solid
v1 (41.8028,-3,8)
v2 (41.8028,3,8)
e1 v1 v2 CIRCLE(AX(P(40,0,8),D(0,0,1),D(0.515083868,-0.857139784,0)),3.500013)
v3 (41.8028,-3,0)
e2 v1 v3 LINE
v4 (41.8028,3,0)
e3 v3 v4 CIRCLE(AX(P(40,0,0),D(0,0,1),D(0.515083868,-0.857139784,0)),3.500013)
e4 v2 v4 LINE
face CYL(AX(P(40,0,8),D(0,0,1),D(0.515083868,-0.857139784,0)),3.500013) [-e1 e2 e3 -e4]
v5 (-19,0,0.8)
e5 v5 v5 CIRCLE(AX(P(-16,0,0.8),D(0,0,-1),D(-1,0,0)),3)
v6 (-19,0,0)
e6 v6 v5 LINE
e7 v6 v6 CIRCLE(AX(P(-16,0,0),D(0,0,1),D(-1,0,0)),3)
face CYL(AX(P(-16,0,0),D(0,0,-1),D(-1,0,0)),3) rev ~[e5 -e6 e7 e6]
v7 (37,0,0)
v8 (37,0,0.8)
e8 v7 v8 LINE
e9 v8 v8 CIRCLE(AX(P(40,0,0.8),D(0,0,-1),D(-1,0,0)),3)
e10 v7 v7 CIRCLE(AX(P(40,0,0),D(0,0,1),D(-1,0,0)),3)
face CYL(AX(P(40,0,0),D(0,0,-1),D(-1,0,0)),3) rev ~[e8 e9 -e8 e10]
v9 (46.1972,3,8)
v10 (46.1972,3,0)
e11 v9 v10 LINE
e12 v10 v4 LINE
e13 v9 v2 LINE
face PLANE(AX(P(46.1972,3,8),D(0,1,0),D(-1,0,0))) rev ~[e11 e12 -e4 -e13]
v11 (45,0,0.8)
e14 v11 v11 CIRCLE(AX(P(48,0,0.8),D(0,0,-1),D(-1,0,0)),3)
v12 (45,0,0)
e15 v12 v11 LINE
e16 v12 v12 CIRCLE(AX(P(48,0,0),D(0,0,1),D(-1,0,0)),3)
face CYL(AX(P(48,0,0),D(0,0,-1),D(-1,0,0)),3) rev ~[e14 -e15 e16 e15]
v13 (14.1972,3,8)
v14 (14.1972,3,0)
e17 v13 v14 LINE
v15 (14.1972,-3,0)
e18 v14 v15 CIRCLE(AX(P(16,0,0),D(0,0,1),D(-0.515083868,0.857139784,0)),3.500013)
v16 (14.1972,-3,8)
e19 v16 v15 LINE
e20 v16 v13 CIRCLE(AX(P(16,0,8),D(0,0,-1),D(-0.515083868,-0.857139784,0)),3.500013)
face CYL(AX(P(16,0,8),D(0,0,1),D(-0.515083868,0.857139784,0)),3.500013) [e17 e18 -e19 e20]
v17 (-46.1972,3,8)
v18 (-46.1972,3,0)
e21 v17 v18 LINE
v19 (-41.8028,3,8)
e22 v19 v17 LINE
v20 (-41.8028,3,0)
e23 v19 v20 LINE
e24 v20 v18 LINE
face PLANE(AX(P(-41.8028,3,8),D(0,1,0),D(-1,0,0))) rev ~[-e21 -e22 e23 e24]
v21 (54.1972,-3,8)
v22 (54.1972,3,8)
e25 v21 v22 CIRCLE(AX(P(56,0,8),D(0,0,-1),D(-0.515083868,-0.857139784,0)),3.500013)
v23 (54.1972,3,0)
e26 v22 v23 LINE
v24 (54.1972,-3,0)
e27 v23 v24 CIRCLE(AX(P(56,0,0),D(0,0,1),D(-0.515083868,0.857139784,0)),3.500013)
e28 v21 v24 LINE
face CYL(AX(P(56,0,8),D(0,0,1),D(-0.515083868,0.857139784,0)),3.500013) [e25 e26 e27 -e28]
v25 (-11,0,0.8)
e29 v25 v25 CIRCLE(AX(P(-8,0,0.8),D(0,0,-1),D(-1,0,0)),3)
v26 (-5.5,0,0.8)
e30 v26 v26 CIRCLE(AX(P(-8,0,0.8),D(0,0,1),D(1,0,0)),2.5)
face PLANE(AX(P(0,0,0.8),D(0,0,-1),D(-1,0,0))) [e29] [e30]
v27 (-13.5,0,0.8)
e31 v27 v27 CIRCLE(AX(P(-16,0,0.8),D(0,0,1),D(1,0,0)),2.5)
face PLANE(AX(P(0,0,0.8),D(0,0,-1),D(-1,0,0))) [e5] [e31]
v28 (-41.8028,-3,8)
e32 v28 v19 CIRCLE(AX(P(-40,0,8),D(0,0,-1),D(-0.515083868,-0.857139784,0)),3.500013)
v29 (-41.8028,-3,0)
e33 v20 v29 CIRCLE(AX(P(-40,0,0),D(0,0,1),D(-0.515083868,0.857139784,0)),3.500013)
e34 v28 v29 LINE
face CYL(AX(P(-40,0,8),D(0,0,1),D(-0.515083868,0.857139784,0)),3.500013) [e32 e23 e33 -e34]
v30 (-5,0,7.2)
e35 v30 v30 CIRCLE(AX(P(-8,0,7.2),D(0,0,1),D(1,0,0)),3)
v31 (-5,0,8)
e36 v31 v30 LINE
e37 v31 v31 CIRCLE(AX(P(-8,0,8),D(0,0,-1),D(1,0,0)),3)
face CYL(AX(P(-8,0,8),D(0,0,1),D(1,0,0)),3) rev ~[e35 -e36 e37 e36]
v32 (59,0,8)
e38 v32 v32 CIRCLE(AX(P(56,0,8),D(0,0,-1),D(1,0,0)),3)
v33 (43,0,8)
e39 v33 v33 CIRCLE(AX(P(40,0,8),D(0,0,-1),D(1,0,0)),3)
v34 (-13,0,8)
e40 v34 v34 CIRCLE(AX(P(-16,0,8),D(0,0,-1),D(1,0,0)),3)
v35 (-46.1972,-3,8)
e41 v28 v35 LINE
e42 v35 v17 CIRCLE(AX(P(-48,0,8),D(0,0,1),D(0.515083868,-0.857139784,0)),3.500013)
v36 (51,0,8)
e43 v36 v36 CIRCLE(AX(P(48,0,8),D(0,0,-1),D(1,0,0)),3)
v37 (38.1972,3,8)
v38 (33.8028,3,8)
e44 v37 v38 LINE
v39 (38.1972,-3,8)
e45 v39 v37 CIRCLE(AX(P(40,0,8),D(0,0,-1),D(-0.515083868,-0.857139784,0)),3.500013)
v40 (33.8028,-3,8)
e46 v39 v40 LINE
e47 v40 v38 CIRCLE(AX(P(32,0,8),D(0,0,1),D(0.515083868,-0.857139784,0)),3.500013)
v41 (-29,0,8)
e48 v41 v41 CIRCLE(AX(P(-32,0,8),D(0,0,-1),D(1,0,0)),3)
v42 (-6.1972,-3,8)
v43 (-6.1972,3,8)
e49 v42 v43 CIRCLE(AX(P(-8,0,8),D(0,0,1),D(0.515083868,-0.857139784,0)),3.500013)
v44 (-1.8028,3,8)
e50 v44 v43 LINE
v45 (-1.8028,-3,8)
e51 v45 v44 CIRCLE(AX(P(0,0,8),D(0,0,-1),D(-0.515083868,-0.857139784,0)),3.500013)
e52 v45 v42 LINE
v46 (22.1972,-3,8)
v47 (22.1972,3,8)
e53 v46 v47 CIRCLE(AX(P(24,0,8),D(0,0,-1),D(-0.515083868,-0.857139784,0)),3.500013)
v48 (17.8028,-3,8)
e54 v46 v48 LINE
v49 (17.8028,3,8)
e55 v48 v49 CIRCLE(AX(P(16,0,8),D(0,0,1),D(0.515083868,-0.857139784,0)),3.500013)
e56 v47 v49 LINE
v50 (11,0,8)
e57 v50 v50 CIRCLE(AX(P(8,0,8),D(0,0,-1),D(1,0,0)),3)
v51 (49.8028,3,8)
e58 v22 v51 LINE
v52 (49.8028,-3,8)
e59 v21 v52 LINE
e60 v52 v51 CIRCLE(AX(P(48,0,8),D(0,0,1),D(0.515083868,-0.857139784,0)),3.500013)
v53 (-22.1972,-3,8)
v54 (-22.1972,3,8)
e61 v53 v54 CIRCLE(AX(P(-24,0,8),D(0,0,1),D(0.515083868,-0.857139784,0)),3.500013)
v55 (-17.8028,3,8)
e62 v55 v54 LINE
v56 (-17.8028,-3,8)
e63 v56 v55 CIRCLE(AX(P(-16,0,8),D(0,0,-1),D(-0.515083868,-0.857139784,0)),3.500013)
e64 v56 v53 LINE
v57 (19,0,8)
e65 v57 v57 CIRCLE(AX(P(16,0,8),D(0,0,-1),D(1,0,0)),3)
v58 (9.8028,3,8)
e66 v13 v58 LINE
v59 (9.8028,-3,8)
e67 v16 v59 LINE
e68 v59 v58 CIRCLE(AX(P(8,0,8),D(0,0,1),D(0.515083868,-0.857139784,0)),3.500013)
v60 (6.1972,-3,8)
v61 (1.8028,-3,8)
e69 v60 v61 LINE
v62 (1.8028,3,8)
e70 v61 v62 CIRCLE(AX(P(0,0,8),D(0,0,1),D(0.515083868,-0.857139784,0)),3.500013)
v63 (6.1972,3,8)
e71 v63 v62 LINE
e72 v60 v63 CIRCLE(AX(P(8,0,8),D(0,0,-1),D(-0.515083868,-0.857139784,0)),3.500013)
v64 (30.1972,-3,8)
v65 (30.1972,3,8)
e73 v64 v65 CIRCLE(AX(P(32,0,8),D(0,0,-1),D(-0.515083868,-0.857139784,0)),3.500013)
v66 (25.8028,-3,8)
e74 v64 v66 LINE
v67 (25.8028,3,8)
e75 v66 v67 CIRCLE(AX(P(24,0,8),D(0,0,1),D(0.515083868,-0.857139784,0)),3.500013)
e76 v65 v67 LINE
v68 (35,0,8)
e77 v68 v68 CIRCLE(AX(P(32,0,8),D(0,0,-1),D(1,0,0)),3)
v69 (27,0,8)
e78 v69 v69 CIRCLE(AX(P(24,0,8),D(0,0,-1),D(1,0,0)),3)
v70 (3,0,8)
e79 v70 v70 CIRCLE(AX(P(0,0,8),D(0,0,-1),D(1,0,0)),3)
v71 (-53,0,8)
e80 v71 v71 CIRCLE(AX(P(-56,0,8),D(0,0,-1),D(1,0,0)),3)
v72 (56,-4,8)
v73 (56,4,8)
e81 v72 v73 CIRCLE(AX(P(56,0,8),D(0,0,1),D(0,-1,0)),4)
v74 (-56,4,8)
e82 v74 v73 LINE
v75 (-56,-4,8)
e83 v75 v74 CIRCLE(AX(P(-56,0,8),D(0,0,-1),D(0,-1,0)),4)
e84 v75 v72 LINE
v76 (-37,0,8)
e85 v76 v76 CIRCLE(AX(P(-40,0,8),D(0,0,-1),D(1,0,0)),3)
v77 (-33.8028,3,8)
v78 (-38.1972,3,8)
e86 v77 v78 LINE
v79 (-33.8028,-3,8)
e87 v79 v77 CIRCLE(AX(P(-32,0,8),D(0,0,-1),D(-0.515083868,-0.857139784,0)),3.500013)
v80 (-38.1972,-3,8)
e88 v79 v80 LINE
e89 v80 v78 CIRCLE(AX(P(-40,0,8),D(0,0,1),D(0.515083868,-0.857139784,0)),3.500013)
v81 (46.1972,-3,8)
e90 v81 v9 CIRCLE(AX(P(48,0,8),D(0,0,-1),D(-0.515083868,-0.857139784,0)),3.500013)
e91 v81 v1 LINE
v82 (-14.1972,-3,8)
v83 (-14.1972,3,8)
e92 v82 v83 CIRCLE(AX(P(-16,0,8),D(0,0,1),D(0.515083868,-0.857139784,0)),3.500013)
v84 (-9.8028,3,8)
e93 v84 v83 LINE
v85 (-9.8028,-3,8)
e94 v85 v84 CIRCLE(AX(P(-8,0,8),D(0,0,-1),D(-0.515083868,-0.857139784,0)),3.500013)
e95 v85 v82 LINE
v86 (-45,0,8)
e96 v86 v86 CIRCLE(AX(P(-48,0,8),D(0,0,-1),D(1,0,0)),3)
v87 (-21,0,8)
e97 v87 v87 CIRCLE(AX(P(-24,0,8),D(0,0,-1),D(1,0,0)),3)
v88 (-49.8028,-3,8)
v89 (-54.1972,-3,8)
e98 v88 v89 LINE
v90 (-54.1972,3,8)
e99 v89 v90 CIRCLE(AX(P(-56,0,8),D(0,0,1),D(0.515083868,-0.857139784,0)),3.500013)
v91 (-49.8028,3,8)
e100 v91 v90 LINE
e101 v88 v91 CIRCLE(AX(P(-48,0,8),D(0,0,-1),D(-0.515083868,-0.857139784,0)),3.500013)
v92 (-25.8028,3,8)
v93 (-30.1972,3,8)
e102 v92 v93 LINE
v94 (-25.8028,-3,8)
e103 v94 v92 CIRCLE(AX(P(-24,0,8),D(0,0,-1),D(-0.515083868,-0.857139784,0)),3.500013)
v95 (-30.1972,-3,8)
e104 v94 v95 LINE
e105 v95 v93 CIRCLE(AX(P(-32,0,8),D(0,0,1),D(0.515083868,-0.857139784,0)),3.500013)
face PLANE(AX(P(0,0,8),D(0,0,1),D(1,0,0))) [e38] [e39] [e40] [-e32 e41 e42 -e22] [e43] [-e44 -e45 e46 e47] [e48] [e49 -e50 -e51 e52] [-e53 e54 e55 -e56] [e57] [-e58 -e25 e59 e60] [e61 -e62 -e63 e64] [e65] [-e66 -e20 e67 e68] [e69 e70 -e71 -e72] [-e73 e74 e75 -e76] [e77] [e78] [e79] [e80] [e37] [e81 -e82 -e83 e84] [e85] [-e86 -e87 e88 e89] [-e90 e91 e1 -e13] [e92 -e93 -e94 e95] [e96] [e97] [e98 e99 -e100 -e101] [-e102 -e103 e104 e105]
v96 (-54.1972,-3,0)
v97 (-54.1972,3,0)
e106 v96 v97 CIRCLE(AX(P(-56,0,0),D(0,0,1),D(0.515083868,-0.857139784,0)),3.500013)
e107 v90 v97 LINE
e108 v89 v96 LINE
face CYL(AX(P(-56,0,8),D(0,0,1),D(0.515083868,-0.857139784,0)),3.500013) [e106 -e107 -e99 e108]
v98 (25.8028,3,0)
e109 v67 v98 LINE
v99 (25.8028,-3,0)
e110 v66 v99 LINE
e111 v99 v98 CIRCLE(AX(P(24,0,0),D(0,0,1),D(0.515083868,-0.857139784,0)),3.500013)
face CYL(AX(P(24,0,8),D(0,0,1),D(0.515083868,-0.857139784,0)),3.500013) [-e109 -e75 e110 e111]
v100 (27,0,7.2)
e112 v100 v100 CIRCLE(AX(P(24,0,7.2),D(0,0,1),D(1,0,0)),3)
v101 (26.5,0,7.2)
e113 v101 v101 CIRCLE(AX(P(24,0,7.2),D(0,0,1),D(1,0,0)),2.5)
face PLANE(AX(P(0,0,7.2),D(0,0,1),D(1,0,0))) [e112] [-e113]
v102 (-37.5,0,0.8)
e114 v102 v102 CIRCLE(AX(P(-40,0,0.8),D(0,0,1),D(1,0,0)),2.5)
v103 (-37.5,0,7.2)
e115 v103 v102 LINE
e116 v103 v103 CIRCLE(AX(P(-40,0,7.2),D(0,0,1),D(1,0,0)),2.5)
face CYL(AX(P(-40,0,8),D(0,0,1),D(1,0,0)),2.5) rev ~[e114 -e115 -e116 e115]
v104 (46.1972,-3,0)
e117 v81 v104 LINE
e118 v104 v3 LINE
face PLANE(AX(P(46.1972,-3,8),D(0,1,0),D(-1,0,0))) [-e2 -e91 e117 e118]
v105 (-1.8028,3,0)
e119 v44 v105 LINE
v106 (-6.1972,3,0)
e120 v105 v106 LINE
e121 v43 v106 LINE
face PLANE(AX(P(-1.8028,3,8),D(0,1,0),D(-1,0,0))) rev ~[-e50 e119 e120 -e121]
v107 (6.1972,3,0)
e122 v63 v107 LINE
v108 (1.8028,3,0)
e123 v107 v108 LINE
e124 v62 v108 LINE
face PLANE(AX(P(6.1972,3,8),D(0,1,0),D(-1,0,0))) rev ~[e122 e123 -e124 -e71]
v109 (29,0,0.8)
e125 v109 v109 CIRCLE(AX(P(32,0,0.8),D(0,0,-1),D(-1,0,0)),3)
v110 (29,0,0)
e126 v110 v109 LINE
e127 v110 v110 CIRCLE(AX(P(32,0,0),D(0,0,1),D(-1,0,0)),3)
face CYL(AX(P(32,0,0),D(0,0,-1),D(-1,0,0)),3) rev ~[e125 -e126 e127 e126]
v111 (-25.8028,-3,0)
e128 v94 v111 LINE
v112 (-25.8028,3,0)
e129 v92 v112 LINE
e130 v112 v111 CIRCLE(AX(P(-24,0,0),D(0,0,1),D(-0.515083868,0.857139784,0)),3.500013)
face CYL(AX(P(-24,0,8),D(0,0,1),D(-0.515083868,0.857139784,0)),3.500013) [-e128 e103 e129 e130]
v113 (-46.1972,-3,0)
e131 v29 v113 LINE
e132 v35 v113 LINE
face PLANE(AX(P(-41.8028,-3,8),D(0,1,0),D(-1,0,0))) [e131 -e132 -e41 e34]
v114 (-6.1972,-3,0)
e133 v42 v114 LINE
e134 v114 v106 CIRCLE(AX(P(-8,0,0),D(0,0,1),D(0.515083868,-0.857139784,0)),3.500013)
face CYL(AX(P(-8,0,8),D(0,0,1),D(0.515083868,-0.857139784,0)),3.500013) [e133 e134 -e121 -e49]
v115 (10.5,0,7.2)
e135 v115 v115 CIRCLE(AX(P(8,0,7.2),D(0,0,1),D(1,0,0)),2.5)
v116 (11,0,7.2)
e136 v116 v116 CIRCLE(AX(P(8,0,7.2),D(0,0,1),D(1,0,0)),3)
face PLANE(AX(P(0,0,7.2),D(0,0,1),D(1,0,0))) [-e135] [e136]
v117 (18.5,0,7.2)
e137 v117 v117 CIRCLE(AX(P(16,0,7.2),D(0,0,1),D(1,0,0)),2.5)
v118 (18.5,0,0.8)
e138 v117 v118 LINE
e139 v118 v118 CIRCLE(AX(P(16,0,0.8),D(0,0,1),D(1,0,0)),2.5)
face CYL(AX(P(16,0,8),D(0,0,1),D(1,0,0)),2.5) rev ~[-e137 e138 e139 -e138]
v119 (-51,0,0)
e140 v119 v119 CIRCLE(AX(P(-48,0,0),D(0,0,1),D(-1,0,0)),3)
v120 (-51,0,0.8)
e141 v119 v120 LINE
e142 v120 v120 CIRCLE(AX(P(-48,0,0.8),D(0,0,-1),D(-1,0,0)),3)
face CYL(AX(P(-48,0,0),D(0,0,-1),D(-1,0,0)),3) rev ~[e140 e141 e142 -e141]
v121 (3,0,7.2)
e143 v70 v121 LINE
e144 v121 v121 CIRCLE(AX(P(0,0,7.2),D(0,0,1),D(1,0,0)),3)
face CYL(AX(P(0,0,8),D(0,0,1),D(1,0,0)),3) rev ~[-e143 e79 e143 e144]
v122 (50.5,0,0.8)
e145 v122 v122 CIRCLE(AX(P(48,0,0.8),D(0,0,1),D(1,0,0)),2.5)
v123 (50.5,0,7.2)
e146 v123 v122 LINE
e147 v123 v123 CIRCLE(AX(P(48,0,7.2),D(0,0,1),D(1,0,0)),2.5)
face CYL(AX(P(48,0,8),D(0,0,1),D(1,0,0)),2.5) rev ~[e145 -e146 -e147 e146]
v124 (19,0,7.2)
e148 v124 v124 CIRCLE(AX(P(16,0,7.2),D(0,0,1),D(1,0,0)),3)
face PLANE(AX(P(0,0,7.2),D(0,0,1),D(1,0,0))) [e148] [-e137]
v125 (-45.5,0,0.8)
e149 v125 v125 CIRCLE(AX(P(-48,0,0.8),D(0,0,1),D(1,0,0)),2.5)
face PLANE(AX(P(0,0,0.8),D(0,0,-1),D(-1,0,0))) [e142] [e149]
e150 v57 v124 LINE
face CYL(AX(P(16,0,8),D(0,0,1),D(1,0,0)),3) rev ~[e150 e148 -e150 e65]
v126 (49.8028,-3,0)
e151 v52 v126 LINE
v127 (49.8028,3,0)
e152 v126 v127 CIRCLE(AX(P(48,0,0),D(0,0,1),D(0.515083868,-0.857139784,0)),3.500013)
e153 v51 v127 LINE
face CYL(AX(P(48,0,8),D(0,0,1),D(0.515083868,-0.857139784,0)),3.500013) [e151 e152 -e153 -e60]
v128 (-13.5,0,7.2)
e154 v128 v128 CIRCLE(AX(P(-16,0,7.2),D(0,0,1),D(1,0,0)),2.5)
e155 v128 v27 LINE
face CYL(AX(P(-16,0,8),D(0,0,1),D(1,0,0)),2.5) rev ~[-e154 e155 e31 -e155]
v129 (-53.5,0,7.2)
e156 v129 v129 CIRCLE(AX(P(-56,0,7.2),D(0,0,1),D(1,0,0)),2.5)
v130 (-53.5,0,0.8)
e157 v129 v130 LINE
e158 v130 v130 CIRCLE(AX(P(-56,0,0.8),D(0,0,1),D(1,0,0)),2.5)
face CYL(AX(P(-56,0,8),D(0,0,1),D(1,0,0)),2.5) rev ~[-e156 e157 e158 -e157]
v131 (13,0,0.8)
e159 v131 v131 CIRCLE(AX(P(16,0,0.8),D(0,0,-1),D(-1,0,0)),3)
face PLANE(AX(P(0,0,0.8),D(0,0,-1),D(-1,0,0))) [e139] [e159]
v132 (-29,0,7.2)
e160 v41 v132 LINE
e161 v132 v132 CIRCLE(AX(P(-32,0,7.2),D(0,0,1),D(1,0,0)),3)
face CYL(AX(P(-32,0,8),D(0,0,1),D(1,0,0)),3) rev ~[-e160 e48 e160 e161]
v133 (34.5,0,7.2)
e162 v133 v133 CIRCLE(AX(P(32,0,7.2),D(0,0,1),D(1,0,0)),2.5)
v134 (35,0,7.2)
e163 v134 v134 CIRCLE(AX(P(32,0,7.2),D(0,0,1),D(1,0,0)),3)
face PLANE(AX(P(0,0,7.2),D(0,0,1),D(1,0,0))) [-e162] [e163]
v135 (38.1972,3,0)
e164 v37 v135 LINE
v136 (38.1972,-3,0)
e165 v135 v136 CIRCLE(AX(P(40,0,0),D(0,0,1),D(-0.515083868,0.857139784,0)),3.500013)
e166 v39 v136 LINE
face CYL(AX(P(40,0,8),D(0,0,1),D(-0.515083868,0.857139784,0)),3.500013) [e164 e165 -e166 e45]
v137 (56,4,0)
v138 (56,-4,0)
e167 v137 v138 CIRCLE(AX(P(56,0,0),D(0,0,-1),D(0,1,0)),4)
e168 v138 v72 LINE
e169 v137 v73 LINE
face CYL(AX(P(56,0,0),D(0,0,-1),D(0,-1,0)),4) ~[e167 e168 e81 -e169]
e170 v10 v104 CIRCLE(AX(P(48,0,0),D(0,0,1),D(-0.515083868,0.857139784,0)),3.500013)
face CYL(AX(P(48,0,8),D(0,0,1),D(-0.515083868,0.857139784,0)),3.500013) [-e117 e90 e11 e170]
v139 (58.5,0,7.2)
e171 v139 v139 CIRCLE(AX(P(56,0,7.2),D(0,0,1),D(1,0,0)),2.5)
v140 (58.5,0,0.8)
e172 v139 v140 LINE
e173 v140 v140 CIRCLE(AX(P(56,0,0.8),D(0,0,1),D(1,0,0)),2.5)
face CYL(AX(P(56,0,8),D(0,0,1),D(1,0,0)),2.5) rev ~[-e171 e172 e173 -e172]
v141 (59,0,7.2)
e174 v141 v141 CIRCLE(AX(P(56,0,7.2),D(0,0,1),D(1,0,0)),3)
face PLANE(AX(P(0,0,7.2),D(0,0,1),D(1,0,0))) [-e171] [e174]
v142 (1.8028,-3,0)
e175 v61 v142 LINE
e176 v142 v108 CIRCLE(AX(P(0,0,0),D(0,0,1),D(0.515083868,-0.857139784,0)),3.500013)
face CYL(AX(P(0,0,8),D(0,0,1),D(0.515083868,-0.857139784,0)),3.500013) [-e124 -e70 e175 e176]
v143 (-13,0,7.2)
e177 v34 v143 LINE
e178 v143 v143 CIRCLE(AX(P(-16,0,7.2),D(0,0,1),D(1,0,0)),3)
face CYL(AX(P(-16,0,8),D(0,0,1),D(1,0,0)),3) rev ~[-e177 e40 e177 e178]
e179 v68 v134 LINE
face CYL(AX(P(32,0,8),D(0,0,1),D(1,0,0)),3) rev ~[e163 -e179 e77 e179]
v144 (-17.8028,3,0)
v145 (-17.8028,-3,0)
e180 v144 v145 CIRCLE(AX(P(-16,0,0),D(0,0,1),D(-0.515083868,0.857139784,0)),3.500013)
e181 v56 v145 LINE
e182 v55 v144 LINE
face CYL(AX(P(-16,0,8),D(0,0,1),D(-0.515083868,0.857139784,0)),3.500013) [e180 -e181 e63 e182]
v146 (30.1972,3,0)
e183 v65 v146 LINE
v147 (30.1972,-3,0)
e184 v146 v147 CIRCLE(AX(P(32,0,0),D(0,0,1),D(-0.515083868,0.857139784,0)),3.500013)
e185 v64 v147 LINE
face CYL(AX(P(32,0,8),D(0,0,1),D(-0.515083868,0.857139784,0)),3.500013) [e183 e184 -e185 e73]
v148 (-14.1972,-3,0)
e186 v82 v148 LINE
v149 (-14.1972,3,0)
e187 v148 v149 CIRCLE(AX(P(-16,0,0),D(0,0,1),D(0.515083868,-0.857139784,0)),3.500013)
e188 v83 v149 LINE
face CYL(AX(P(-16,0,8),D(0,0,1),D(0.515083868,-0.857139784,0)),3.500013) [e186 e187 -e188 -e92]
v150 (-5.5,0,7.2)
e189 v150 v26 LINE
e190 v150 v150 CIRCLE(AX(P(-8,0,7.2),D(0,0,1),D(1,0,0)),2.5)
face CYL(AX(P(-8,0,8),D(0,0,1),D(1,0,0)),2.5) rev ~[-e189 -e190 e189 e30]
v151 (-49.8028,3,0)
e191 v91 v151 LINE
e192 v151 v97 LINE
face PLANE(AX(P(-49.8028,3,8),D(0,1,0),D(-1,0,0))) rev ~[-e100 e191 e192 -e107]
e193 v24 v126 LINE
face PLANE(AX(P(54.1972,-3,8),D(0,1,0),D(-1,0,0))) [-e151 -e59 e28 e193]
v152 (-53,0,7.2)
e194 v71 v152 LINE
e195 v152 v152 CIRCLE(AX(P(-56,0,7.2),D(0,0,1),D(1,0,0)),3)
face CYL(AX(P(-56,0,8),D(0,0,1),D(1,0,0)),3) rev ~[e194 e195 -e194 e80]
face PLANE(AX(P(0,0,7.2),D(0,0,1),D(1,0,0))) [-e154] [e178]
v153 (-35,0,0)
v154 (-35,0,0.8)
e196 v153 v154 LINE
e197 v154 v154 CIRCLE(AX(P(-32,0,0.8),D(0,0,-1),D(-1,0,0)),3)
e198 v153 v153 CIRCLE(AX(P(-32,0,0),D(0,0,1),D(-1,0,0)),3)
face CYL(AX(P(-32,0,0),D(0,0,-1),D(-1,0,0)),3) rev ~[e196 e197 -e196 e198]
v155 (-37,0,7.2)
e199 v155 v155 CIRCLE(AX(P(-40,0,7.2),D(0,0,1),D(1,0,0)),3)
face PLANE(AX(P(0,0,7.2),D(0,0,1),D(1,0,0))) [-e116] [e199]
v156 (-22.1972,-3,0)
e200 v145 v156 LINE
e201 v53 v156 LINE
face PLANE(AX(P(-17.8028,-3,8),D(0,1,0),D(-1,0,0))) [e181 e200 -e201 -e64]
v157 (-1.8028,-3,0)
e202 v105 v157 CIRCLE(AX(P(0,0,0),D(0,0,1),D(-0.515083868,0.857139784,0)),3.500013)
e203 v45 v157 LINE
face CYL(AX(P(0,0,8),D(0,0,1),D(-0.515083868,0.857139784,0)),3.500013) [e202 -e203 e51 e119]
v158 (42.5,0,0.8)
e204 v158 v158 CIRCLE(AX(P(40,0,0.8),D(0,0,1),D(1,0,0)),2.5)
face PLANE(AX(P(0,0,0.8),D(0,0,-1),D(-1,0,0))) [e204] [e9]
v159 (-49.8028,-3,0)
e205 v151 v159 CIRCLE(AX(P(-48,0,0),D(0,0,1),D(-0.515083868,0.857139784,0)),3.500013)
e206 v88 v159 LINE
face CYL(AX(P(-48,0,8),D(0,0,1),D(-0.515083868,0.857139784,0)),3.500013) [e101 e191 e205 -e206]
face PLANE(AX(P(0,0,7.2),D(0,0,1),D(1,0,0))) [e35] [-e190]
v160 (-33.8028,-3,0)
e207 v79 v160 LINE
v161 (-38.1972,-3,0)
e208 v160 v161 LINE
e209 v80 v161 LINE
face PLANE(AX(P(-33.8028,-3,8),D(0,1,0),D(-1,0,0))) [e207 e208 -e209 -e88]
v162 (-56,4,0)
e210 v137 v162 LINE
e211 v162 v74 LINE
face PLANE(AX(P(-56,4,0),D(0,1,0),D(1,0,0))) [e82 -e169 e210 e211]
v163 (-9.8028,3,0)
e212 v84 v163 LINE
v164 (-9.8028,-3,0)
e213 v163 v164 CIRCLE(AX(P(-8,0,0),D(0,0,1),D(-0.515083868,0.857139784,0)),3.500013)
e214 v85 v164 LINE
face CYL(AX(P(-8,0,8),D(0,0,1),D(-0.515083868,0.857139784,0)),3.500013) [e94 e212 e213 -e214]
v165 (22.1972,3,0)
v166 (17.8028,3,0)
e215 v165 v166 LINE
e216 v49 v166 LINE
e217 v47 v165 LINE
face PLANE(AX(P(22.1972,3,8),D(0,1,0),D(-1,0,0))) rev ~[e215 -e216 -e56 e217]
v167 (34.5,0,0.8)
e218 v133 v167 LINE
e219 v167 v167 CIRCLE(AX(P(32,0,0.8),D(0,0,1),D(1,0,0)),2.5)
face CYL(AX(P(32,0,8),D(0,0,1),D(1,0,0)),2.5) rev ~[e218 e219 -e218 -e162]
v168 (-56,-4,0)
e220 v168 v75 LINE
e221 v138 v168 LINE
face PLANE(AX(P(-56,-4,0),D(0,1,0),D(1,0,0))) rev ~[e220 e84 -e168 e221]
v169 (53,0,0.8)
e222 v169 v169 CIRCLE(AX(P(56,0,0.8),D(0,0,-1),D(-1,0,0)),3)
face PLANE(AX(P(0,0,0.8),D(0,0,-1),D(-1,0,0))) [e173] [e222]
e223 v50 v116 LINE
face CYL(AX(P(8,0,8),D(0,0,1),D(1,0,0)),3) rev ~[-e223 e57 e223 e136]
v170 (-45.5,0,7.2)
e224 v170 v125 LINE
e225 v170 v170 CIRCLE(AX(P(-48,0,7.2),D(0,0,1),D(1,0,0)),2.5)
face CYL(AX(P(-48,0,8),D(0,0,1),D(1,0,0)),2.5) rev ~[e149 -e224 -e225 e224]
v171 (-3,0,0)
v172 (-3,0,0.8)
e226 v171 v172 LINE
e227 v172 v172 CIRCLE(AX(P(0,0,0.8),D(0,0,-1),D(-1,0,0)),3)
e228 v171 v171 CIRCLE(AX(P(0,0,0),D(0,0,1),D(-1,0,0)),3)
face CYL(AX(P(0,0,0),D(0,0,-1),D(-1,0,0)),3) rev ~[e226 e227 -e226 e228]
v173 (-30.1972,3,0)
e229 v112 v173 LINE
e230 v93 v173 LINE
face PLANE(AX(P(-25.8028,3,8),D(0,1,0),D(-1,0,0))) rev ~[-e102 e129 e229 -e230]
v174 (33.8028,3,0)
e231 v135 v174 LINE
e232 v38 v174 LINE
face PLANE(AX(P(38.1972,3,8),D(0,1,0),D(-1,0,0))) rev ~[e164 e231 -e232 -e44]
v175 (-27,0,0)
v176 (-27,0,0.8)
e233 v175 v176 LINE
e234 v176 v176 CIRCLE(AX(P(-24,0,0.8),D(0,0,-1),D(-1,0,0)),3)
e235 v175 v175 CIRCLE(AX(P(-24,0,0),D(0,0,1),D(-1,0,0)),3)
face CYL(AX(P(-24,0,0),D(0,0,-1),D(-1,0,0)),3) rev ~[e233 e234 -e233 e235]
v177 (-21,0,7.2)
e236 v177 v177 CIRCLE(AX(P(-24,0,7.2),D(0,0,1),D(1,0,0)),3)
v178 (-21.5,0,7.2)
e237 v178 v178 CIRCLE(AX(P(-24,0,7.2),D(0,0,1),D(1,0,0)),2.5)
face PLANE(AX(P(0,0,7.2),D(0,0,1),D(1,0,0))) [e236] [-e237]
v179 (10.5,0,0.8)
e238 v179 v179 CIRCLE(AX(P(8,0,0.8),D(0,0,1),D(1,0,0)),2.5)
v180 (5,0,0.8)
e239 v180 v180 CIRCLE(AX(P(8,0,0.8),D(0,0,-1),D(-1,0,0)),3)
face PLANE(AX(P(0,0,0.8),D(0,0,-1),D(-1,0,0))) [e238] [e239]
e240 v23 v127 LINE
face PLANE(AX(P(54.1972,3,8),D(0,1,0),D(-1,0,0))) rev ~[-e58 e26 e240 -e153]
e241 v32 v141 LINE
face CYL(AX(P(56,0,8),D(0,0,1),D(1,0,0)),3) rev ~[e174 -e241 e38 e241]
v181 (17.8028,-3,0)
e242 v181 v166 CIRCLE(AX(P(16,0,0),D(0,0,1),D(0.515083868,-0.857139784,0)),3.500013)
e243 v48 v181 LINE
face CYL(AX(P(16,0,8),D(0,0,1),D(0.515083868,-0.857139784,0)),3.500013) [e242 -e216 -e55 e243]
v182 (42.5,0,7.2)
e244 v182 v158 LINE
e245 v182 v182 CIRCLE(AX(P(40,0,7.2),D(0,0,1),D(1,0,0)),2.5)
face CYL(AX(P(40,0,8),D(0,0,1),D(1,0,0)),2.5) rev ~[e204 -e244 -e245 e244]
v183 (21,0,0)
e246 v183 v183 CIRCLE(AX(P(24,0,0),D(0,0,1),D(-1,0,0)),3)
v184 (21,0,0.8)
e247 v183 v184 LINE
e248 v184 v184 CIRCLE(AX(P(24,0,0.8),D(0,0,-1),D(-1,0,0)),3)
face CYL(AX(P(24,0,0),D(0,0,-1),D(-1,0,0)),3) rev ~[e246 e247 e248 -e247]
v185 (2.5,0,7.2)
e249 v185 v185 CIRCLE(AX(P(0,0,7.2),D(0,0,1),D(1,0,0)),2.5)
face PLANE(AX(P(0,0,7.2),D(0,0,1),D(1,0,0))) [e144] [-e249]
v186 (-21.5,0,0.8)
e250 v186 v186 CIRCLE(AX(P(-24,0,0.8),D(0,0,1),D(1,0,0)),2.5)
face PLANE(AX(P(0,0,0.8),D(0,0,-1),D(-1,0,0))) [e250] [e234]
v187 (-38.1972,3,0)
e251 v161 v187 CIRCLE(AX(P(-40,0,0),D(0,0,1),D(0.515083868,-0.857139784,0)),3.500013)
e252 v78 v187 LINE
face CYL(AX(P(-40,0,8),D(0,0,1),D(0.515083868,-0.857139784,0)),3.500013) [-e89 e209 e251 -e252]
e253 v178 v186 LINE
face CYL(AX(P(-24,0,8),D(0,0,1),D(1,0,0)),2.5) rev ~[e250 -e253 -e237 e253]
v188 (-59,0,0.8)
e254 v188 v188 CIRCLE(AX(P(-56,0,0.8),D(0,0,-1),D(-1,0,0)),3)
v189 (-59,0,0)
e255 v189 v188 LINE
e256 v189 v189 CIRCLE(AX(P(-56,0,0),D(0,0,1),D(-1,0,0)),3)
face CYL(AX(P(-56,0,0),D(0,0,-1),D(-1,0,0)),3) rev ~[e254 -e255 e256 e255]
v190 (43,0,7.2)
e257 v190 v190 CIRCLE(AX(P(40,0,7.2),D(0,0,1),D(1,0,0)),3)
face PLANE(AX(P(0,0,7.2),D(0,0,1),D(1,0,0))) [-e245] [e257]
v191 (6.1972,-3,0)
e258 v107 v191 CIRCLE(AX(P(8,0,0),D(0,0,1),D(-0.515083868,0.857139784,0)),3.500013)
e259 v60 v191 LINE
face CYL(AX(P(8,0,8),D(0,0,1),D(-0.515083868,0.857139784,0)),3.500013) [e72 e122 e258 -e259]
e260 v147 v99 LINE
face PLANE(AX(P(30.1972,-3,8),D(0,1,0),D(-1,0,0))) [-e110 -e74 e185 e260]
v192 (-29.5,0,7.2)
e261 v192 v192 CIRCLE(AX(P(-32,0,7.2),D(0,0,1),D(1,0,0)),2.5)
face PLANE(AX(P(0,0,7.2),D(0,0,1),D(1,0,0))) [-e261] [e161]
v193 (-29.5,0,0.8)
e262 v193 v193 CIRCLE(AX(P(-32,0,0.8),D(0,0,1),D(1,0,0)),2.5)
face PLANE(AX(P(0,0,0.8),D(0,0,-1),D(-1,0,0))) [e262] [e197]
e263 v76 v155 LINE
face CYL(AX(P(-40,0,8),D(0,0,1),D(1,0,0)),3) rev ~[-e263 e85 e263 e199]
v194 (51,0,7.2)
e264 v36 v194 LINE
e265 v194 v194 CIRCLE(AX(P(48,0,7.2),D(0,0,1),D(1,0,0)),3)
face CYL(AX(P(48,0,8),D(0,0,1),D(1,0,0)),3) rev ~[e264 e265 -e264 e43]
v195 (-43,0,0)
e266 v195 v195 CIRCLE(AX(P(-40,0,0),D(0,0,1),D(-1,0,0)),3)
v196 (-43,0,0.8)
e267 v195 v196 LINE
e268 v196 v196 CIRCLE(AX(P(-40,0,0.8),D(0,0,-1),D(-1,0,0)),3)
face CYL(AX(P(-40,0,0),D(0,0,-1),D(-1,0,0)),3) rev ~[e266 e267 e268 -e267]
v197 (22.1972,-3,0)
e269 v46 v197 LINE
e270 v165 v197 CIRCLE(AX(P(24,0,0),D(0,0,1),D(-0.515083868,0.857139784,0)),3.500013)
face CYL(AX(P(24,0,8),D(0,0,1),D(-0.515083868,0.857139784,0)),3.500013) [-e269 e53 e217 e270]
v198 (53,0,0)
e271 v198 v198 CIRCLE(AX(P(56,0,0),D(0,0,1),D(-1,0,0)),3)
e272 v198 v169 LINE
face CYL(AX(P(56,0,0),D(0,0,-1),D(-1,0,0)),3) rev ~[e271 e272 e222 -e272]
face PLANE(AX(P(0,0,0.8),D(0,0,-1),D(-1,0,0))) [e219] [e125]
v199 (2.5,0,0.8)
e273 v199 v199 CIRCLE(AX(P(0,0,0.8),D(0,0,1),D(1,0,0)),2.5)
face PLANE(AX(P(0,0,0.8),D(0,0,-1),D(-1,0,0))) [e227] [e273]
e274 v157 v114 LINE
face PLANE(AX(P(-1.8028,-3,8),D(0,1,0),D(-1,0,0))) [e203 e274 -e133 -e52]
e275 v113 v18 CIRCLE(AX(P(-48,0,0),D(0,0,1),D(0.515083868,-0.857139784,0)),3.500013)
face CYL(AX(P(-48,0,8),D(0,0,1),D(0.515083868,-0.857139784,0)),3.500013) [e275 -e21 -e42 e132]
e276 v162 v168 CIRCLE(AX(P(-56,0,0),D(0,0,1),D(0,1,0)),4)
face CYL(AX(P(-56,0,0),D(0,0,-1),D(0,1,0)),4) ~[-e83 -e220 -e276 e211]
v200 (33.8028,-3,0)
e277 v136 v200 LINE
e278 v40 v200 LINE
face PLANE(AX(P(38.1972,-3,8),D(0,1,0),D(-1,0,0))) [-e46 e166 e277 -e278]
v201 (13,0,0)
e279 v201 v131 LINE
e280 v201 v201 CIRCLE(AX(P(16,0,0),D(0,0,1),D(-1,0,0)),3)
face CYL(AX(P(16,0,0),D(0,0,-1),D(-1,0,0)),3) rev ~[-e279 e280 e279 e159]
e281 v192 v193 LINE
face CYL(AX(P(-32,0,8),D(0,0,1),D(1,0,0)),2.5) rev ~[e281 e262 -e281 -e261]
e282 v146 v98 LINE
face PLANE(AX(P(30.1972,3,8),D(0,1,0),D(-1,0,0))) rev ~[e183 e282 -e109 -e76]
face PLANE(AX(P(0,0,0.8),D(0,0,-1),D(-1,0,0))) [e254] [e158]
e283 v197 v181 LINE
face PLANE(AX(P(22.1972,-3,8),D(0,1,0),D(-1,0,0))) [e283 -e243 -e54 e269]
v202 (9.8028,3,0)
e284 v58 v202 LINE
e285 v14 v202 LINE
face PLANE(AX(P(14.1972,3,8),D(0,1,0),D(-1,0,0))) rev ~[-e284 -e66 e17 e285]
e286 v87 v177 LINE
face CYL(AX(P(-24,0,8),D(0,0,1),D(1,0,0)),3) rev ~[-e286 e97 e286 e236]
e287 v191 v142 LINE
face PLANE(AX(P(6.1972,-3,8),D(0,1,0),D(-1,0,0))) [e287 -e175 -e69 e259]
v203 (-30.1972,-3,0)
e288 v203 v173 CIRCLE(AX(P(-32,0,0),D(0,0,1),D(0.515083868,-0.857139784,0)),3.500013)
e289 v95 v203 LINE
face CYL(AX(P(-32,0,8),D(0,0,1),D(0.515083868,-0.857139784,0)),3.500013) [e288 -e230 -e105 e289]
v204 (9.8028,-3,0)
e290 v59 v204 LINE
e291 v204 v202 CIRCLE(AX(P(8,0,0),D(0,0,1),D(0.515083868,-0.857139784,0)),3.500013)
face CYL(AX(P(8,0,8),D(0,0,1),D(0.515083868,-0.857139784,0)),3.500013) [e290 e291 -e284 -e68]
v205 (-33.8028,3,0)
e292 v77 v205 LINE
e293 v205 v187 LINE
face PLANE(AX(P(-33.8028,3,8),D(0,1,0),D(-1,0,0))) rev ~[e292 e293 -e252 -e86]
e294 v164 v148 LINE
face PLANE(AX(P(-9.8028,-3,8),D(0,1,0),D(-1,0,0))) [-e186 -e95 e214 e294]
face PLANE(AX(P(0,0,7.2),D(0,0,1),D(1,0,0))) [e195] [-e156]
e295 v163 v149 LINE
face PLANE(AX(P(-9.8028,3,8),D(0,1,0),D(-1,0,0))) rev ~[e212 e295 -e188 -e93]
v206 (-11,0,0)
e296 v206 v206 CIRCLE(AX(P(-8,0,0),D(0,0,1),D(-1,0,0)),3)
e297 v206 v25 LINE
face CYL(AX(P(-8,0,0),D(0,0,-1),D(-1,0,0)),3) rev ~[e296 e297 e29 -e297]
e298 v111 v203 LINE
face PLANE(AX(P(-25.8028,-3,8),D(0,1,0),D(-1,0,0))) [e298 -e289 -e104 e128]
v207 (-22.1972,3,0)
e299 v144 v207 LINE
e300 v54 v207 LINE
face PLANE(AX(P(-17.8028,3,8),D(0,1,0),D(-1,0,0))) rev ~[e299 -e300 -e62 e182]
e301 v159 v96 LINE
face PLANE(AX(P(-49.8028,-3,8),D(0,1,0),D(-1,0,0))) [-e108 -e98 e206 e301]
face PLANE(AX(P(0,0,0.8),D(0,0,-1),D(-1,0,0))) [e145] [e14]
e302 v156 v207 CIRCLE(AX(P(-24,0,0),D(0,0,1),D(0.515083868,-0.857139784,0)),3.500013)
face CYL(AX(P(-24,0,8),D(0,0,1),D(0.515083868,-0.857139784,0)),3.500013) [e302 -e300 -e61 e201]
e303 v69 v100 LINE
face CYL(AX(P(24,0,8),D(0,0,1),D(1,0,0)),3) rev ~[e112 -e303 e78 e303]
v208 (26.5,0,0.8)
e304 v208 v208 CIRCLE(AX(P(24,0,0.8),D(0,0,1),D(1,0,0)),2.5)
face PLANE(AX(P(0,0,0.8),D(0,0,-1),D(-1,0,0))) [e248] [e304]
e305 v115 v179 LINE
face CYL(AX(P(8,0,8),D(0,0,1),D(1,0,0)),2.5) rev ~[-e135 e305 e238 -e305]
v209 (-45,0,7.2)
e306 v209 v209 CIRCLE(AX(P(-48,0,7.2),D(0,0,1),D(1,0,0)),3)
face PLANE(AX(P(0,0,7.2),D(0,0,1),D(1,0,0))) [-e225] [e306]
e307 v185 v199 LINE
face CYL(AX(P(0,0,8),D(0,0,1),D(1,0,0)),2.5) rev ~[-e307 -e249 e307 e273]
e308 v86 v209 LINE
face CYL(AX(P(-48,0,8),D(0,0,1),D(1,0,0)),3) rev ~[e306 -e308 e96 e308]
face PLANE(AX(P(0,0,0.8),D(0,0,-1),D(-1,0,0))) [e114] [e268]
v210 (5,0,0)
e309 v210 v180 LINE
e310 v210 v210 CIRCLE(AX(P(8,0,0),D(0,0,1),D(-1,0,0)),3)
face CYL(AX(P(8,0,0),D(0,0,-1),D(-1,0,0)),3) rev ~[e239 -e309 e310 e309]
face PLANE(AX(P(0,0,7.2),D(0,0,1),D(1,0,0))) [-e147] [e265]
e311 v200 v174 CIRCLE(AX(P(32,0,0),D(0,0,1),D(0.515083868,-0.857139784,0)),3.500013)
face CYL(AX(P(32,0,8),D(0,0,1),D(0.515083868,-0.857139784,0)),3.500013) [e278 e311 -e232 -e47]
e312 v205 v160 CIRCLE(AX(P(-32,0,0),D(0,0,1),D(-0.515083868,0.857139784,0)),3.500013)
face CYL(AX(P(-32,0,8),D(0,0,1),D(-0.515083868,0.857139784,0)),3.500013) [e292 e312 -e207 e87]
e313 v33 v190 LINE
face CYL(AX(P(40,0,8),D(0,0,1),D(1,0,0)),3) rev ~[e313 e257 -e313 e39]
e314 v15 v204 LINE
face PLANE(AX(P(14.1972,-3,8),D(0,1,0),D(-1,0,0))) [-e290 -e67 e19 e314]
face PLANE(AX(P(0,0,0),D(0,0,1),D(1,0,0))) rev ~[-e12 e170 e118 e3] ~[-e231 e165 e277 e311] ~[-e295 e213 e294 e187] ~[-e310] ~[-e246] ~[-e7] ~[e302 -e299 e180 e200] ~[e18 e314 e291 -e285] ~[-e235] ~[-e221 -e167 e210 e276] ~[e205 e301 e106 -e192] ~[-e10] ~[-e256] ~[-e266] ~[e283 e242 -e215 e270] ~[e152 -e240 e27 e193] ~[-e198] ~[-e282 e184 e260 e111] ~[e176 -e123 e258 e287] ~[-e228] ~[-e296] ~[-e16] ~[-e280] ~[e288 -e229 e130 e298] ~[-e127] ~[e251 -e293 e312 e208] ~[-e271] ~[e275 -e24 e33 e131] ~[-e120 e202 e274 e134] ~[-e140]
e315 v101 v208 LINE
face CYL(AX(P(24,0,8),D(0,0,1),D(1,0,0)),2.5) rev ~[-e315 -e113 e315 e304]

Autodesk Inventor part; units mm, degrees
ref_plane "YZ Plane" through (0, 0, 0) normal (1, 0, 0) x (0, 1, 0)
ref_plane "XZ Plane" through (0, 0, 0) normal (0, 1, 0) x (-1, 0, 0)
ref_plane "XY Plane" through (0, 0, 0) normal (0, 0, 1) x (1, 0, 0)
sketch "Sketch2" plane through (0, 0, 0) normal (0, 0, 1) x (1, 0, 0)
  arc A0 (-56, 4) -> (-56, -4) centre (-56, 0) ccw
  arc A1 (56, -4) -> (56, 4) centre (56, 0) ccw
  line L0 (-56, 4) -> (56, 4)
  line L1 (-56, -4) -> (56, -4)
  line L2 (-84, 0) -> (84, 0) projected
  line L3 (0, -5.6) -> (0, 5.6) projected
  point P0 (0, 0)
  dimension "d0" = 4
  dimension "d1" = 4
  dimension "d2" = 112
  dimension "d3" = 0
  dimension "d4" = 56
  dimension "d9" = 180
  dimension "d10" = 0
  dimension "d268" = 112
extrude "Extrusion1" add sketch "Sketch2" along normal blind 8
sketch "Sketch27" plane through (0, 0, 8) normal (0, 0, 1) x (1, 0, 0)
  arc A0 (-56, 4) -> (-56, -4) centre (-56, 0) ccw projected
  circle A1 centre (-56, 0) radius 2.5
  line L0 (-84, 0) -> (84, 0) projected
  circle A2 centre (-48, 0) radius 2.5
  circle A3 centre (-40, 0) radius 2.5
  circle A4 centre (-32, 0) radius 2.5
  circle A5 centre (-24, 0) radius 2.5
  circle A6 centre (-16, 0) radius 2.5
  circle A7 centre (-8, 0) radius 2.5
  circle A8 centre (0, 0) radius 2.5
  circle A9 centre (8, 0) radius 2.5
  circle A10 centre (16, 0) radius 2.5
  circle A11 centre (24, 0) radius 2.5
  circle A12 centre (32, 0) radius 2.5
  circle A13 centre (40, 0) radius 2.5
  circle A14 centre (48, 0) radius 2.5
  circle A15 centre (56, 0) radius 2.5
  dimension "d269" = 5
  dimension "d275" = 8
extrude "Extrusion26" cut sketch "Sketch27" against normal through all
sketch "Sketch28" plane through (0, 0, 8) normal (0, 0, 1) x (1, 0, 0)
  circle A0 centre (56, 0) radius 2.5 projected
  circle A1 centre (48, 0) radius 2.5 projected
  circle A2 centre (40, 0) radius 2.5 projected
  circle A3 centre (32, 0) radius 2.5 projected
  circle A4 centre (24, 0) radius 2.5 projected
  circle A5 centre (16, 0) radius 2.5 projected
  circle A6 centre (8, 0) radius 2.5 projected
  circle A7 centre (0, 0) radius 2.5 projected
  circle A8 centre (-8, 0) radius 2.5 projected
  circle A9 centre (-16, 0) radius 2.5 projected
  circle A10 centre (-24, 0) radius 2.5 projected
  circle A11 centre (-32, 0) radius 2.5 projected
  circle A12 centre (-40, 0) radius 2.5 projected
  circle A13 centre (-48, 0) radius 2.5 projected
  circle A14 centre (-56, 0) radius 2.5 projected
  arc A15 (-56, 4) -> (-56, -4) centre (-56, 0) ccw projected
  circle A16 centre (-56, 0) radius 3
  line L0 (-84, 0) -> (84, 0) projected
  circle A17 centre (-48, 0) radius 3
  circle A18 centre (-40, 0) radius 3
  circle A19 centre (-32, 0) radius 3
  circle A20 centre (-24, 0) radius 3
  circle A21 centre (-16, 0) radius 3
  circle A22 centre (-8, 0) radius 3
  circle A23 centre (0, 0) radius 3
  circle A24 centre (8, 0) radius 3
  circle A25 centre (16, 0) radius 3
  circle A26 centre (24, 0) radius 3
  circle A27 centre (32, 0) radius 3
  circle A28 centre (40, 0) radius 3
  circle A29 centre (48, 0) radius 3
  circle A30 centre (56, 0) radius 3
  dimension "d279" = 6
  dimension "d285" = 8
extrude "Extrusion27" cut sketch "Sketch28" against normal blind 0.8 contours L0 A30 A0 | A0 L0 A30 | A16 L0 A14 | L0 A14 A16 | A17 L0 A13 | L0 A13 A17 | A18 L0 A12 | L0 A12 A18 | A19 L0 A11 | L0 A11 A19 | A20 L0 A10 | L0 A10 A20 | A21 L0 A9 | L0 A9 A21 | A22 L0 A8 | L0 A8 A22 | A23 L0 A7 | L0 A7 A23 | A24 L0 A6 | L0 A6 A24 | A25 L0 A5 | L0 A5 A25 | A26 L0 A4 | L0 A4 A26 | A27 L0 A3 | L0 A3 A27 | A28 L0 A2 | L0 A2 A28 | A29 L0 A1 | L0 A1 A29
sketch "Sketch29" plane through (0, 0, 0) normal (0, 0, -1) x (-1, 0, 0)
  circle A0 centre (-56, 0) radius 2.5 projected
  circle A1 centre (-48, 0) radius 2.5 projected
  circle A2 centre (-40, 0) radius 2.5 projected
  circle A3 centre (-32, 0) radius 2.5 projected
  circle A4 centre (-24, 0) radius 2.5 projected
  circle A5 centre (-16, 0) radius 2.5 projected
  circle A6 centre (-8, 0) radius 2.5 projected
  circle A7 centre (0, 0) radius 2.5 projected
  circle A8 centre (8, 0) radius 2.5 projected
  circle A9 centre (16, 0) radius 2.5 projected
  circle A10 centre (24, 0) radius 2.5 projected
  circle A11 centre (32, 0) radius 2.5 projected
  circle A12 centre (40, 0) radius 2.5 projected
  circle A13 centre (48, 0) radius 2.5 projected
  circle A14 centre (56, 0) radius 2.5 projected
  arc A15 (-56, 4) -> (-56, -4) centre (-56, 0) ccw projected
  circle A16 centre (-56, 0) radius 3
  line L0 (84, 0) -> (-84, 0) projected
  circle A17 centre (-48, 0) radius 3
  circle A18 centre (-40, 0) radius 3
  circle A19 centre (-32, 0) radius 3
  circle A20 centre (-24, 0) radius 3
  circle A21 centre (-16, 0) radius 3
  circle A22 centre (-8, 0) radius 3
  circle A23 centre (0, 0) radius 3
  circle A24 centre (8, 0) radius 3
  circle A25 centre (16, 0) radius 3
  circle A26 centre (24, 0) radius 3
  circle A27 centre (32, 0) radius 3
  circle A28 centre (40, 0) radius 3
  circle A29 centre (48, 0) radius 3
  circle A30 centre (56, 0) radius 3
  dimension "d289" = 6
  dimension "d295" = 8
extrude "Extrusion28" cut sketch "Sketch29" against normal blind 0.8 contours L0 A16 A0 | A0 L0 A16 | A30 L0 A14 | L0 A14 A30 | A29 L0 A13 | L0 A13 A29 | A28 L0 A12 | L0 A12 A28 | A27 L0 A11 | L0 A11 A27 | A26 L0 A10 | L0 A10 A26 | A25 L0 A9 | L0 A9 A25 | A24 L0 A8 | L0 A8 A24 | A23 L0 A7 | L0 A7 A23 | A22 L0 A6 | L0 A6 A22 | A21 L0 A5 | L0 A5 A21 | A20 L0 A4 | L0 A4 A20 | A19 L0 A3 | L0 A3 A19 | A18 L0 A2 | L0 A2 A18 | A17 L0 A1 | L0 A1 A17
sketch "Sketch30" plane through (0, 0, 8) normal (0, 0, 1) x (1, 0, 0)
  circle A0 centre (-56, 0) radius 3 projected
  circle A1 centre (-48, 0) radius 3 projected
  arc A2 (-56, 4) -> (-56, -4) centre (-56, 0) ccw projected
  line L0 (-49.8028, 3) -> (-54.1972, 3)
  line L1 (-49.8028, -3) -> (-54.1972, -3)
  arc A3 (-54.1972, -3) -> (-54.1972, 3) centre (-56, 0) ccw
  arc A4 (-49.8028, 3) -> (-49.8028, -3) centre (-48, 0) ccw
  line L2 (-84, 0) -> (84, 0) projected
  line L3 (-41.8028, 3) -> (-46.1972, 3)
  line L4 (-41.8028, -3) -> (-46.1972, -3)
  arc A5 (-46.1972, -3) -> (-46.1972, 3) centre (-48, 0) ccw
  arc A6 (-41.8028, 3) -> (-41.8028, -3) centre (-40, 0) ccw
  line L5 (-33.8028, 3) -> (-38.1972, 3)
  line L6 (-33.8028, -3) -> (-38.1972, -3)
  arc A7 (-38.1972, -3) -> (-38.1972, 3) centre (-40, 0) ccw
  arc A8 (-33.8028, 3) -> (-33.8028, -3) centre (-32, 0) ccw
  line L7 (-25.8028, 3) -> (-30.1972, 3)
  line L8 (-25.8028, -3) -> (-30.1972, -3)
  arc A9 (-30.1972, -3) -> (-30.1972, 3) centre (-32, 0) ccw
  arc A10 (-25.8028, 3) -> (-25.8028, -3) centre (-24, 0) ccw
  line L9 (-17.8028, 3) -> (-22.1972, 3)
  line L10 (-17.8028, -3) -> (-22.1972, -3)
  arc A11 (-22.1972, -3) -> (-22.1972, 3) centre (-24, 0) ccw
  arc A12 (-17.8028, 3) -> (-17.8028, -3) centre (-16, 0) ccw
  line L11 (-9.8028, 3) -> (-14.1972, 3)
  line L12 (-9.8028, -3) -> (-14.1972, -3)
  arc A13 (-14.1972, -3) -> (-14.1972, 3) centre (-16, 0) ccw
  arc A14 (-9.8028, 3) -> (-9.8028, -3) centre (-8, 0) ccw
  line L13 (-1.8028, 3) -> (-6.1972, 3)
  line L14 (-1.8028, -3) -> (-6.1972, -3)
  arc A15 (-6.1972, -3) -> (-6.1972, 3) centre (-8, 0) ccw
  arc A16 (-1.8028, 3) -> (-1.8028, -3) centre (0, 0) ccw
  line L15 (6.1972, 3) -> (1.8028, 3)
  line L16 (6.1972, -3) -> (1.8028, -3)
  arc A17 (1.8028, -3) -> (1.8028, 3) centre (0, 0) ccw
  arc A18 (6.1972, 3) -> (6.1972, -3) centre (8, 0) ccw
  line L17 (14.1972, 3) -> (9.8028, 3)
  line L18 (14.1972, -3) -> (9.8028, -3)
  arc A19 (9.8028, -3) -> (9.8028, 3) centre (8, 0) ccw
  arc A20 (14.1972, 3) -> (14.1972, -3) centre (16, 0) ccw
  line L19 (22.1972, 3) -> (17.8028, 3)
  line L20 (22.1972, -3) -> (17.8028, -3)
  arc A21 (17.8028, -3) -> (17.8028, 3) centre (16, 0) ccw
  arc A22 (22.1972, 3) -> (22.1972, -3) centre (24, 0) ccw
  line L21 (30.1972, 3) -> (25.8028, 3)
  line L22 (30.1972, -3) -> (25.8028, -3)
  arc A23 (25.8028, -3) -> (25.8028, 3) centre (24, 0) ccw
  arc A24 (30.1972, 3) -> (30.1972, -3) centre (32, 0) ccw
  line L23 (38.1972, 3) -> (33.8028, 3)
  line L24 (38.1972, -3) -> (33.8028, -3)
  arc A25 (33.8028, -3) -> (33.8028, 3) centre (32, 0) ccw
  arc A26 (38.1972, 3) -> (38.1972, -3) centre (40, 0) ccw
  line L25 (46.1972, 3) -> (41.8028, 3)
  line L26 (46.1972, -3) -> (41.8028, -3)
  arc A27 (41.8028, -3) -> (41.8028, 3) centre (40, 0) ccw
  arc A28 (46.1972, 3) -> (46.1972, -3) centre (48, 0) ccw
  line L27 (54.1972, 3) -> (49.8028, 3)
  line L28 (54.1972, -3) -> (49.8028, -3)
  arc A29 (49.8028, -3) -> (49.8028, 3) centre (48, 0) ccw
  arc A30 (54.1972, 3) -> (54.1972, -3) centre (56, 0) ccw
  dimension "d299" = 7
  dimension "d300" = 7
  dimension "d306" = 8
extrude "Extrusion29" cut sketch "Sketch30" against normal through all contours A29 L27 A30 L2 | L2 A30 L28 A29 | A27 L25 A28 L2 | L2 A28 L26 A27 | A25 L23 A26 L2 | L2 A26 L24 A25 | A23 L21 A24 L2 | L2 A24 L22 A23 | A21 L19 A22 L2 | L2 A22 L20 A21 | A19 L17 A20 L2 | L2 A20 L18 A19 | A17 L15 A18 L2 | L2 A18 L16 A17 | A15 L13 A16 L2 | L2 A16 L14 A15 | A13 L11 A14 L2 | L2 A14 L12 A13 | A11 L9 A12 L2 | L2 A12 L10 A11 | A9 L7 A10 L2 | L2 A10 L8 A9 | A7 L5 A8 L2 | L2 A8 L6 A7 | A5 L3 A6 L2 | L2 A6 L4 A5 | A3 L0 A4 L2 | L2 A4 L1 A3
equation "\"d4\" = 0.5 * d2"
properties part number "15M Beam" material "Bronze, Cast"
